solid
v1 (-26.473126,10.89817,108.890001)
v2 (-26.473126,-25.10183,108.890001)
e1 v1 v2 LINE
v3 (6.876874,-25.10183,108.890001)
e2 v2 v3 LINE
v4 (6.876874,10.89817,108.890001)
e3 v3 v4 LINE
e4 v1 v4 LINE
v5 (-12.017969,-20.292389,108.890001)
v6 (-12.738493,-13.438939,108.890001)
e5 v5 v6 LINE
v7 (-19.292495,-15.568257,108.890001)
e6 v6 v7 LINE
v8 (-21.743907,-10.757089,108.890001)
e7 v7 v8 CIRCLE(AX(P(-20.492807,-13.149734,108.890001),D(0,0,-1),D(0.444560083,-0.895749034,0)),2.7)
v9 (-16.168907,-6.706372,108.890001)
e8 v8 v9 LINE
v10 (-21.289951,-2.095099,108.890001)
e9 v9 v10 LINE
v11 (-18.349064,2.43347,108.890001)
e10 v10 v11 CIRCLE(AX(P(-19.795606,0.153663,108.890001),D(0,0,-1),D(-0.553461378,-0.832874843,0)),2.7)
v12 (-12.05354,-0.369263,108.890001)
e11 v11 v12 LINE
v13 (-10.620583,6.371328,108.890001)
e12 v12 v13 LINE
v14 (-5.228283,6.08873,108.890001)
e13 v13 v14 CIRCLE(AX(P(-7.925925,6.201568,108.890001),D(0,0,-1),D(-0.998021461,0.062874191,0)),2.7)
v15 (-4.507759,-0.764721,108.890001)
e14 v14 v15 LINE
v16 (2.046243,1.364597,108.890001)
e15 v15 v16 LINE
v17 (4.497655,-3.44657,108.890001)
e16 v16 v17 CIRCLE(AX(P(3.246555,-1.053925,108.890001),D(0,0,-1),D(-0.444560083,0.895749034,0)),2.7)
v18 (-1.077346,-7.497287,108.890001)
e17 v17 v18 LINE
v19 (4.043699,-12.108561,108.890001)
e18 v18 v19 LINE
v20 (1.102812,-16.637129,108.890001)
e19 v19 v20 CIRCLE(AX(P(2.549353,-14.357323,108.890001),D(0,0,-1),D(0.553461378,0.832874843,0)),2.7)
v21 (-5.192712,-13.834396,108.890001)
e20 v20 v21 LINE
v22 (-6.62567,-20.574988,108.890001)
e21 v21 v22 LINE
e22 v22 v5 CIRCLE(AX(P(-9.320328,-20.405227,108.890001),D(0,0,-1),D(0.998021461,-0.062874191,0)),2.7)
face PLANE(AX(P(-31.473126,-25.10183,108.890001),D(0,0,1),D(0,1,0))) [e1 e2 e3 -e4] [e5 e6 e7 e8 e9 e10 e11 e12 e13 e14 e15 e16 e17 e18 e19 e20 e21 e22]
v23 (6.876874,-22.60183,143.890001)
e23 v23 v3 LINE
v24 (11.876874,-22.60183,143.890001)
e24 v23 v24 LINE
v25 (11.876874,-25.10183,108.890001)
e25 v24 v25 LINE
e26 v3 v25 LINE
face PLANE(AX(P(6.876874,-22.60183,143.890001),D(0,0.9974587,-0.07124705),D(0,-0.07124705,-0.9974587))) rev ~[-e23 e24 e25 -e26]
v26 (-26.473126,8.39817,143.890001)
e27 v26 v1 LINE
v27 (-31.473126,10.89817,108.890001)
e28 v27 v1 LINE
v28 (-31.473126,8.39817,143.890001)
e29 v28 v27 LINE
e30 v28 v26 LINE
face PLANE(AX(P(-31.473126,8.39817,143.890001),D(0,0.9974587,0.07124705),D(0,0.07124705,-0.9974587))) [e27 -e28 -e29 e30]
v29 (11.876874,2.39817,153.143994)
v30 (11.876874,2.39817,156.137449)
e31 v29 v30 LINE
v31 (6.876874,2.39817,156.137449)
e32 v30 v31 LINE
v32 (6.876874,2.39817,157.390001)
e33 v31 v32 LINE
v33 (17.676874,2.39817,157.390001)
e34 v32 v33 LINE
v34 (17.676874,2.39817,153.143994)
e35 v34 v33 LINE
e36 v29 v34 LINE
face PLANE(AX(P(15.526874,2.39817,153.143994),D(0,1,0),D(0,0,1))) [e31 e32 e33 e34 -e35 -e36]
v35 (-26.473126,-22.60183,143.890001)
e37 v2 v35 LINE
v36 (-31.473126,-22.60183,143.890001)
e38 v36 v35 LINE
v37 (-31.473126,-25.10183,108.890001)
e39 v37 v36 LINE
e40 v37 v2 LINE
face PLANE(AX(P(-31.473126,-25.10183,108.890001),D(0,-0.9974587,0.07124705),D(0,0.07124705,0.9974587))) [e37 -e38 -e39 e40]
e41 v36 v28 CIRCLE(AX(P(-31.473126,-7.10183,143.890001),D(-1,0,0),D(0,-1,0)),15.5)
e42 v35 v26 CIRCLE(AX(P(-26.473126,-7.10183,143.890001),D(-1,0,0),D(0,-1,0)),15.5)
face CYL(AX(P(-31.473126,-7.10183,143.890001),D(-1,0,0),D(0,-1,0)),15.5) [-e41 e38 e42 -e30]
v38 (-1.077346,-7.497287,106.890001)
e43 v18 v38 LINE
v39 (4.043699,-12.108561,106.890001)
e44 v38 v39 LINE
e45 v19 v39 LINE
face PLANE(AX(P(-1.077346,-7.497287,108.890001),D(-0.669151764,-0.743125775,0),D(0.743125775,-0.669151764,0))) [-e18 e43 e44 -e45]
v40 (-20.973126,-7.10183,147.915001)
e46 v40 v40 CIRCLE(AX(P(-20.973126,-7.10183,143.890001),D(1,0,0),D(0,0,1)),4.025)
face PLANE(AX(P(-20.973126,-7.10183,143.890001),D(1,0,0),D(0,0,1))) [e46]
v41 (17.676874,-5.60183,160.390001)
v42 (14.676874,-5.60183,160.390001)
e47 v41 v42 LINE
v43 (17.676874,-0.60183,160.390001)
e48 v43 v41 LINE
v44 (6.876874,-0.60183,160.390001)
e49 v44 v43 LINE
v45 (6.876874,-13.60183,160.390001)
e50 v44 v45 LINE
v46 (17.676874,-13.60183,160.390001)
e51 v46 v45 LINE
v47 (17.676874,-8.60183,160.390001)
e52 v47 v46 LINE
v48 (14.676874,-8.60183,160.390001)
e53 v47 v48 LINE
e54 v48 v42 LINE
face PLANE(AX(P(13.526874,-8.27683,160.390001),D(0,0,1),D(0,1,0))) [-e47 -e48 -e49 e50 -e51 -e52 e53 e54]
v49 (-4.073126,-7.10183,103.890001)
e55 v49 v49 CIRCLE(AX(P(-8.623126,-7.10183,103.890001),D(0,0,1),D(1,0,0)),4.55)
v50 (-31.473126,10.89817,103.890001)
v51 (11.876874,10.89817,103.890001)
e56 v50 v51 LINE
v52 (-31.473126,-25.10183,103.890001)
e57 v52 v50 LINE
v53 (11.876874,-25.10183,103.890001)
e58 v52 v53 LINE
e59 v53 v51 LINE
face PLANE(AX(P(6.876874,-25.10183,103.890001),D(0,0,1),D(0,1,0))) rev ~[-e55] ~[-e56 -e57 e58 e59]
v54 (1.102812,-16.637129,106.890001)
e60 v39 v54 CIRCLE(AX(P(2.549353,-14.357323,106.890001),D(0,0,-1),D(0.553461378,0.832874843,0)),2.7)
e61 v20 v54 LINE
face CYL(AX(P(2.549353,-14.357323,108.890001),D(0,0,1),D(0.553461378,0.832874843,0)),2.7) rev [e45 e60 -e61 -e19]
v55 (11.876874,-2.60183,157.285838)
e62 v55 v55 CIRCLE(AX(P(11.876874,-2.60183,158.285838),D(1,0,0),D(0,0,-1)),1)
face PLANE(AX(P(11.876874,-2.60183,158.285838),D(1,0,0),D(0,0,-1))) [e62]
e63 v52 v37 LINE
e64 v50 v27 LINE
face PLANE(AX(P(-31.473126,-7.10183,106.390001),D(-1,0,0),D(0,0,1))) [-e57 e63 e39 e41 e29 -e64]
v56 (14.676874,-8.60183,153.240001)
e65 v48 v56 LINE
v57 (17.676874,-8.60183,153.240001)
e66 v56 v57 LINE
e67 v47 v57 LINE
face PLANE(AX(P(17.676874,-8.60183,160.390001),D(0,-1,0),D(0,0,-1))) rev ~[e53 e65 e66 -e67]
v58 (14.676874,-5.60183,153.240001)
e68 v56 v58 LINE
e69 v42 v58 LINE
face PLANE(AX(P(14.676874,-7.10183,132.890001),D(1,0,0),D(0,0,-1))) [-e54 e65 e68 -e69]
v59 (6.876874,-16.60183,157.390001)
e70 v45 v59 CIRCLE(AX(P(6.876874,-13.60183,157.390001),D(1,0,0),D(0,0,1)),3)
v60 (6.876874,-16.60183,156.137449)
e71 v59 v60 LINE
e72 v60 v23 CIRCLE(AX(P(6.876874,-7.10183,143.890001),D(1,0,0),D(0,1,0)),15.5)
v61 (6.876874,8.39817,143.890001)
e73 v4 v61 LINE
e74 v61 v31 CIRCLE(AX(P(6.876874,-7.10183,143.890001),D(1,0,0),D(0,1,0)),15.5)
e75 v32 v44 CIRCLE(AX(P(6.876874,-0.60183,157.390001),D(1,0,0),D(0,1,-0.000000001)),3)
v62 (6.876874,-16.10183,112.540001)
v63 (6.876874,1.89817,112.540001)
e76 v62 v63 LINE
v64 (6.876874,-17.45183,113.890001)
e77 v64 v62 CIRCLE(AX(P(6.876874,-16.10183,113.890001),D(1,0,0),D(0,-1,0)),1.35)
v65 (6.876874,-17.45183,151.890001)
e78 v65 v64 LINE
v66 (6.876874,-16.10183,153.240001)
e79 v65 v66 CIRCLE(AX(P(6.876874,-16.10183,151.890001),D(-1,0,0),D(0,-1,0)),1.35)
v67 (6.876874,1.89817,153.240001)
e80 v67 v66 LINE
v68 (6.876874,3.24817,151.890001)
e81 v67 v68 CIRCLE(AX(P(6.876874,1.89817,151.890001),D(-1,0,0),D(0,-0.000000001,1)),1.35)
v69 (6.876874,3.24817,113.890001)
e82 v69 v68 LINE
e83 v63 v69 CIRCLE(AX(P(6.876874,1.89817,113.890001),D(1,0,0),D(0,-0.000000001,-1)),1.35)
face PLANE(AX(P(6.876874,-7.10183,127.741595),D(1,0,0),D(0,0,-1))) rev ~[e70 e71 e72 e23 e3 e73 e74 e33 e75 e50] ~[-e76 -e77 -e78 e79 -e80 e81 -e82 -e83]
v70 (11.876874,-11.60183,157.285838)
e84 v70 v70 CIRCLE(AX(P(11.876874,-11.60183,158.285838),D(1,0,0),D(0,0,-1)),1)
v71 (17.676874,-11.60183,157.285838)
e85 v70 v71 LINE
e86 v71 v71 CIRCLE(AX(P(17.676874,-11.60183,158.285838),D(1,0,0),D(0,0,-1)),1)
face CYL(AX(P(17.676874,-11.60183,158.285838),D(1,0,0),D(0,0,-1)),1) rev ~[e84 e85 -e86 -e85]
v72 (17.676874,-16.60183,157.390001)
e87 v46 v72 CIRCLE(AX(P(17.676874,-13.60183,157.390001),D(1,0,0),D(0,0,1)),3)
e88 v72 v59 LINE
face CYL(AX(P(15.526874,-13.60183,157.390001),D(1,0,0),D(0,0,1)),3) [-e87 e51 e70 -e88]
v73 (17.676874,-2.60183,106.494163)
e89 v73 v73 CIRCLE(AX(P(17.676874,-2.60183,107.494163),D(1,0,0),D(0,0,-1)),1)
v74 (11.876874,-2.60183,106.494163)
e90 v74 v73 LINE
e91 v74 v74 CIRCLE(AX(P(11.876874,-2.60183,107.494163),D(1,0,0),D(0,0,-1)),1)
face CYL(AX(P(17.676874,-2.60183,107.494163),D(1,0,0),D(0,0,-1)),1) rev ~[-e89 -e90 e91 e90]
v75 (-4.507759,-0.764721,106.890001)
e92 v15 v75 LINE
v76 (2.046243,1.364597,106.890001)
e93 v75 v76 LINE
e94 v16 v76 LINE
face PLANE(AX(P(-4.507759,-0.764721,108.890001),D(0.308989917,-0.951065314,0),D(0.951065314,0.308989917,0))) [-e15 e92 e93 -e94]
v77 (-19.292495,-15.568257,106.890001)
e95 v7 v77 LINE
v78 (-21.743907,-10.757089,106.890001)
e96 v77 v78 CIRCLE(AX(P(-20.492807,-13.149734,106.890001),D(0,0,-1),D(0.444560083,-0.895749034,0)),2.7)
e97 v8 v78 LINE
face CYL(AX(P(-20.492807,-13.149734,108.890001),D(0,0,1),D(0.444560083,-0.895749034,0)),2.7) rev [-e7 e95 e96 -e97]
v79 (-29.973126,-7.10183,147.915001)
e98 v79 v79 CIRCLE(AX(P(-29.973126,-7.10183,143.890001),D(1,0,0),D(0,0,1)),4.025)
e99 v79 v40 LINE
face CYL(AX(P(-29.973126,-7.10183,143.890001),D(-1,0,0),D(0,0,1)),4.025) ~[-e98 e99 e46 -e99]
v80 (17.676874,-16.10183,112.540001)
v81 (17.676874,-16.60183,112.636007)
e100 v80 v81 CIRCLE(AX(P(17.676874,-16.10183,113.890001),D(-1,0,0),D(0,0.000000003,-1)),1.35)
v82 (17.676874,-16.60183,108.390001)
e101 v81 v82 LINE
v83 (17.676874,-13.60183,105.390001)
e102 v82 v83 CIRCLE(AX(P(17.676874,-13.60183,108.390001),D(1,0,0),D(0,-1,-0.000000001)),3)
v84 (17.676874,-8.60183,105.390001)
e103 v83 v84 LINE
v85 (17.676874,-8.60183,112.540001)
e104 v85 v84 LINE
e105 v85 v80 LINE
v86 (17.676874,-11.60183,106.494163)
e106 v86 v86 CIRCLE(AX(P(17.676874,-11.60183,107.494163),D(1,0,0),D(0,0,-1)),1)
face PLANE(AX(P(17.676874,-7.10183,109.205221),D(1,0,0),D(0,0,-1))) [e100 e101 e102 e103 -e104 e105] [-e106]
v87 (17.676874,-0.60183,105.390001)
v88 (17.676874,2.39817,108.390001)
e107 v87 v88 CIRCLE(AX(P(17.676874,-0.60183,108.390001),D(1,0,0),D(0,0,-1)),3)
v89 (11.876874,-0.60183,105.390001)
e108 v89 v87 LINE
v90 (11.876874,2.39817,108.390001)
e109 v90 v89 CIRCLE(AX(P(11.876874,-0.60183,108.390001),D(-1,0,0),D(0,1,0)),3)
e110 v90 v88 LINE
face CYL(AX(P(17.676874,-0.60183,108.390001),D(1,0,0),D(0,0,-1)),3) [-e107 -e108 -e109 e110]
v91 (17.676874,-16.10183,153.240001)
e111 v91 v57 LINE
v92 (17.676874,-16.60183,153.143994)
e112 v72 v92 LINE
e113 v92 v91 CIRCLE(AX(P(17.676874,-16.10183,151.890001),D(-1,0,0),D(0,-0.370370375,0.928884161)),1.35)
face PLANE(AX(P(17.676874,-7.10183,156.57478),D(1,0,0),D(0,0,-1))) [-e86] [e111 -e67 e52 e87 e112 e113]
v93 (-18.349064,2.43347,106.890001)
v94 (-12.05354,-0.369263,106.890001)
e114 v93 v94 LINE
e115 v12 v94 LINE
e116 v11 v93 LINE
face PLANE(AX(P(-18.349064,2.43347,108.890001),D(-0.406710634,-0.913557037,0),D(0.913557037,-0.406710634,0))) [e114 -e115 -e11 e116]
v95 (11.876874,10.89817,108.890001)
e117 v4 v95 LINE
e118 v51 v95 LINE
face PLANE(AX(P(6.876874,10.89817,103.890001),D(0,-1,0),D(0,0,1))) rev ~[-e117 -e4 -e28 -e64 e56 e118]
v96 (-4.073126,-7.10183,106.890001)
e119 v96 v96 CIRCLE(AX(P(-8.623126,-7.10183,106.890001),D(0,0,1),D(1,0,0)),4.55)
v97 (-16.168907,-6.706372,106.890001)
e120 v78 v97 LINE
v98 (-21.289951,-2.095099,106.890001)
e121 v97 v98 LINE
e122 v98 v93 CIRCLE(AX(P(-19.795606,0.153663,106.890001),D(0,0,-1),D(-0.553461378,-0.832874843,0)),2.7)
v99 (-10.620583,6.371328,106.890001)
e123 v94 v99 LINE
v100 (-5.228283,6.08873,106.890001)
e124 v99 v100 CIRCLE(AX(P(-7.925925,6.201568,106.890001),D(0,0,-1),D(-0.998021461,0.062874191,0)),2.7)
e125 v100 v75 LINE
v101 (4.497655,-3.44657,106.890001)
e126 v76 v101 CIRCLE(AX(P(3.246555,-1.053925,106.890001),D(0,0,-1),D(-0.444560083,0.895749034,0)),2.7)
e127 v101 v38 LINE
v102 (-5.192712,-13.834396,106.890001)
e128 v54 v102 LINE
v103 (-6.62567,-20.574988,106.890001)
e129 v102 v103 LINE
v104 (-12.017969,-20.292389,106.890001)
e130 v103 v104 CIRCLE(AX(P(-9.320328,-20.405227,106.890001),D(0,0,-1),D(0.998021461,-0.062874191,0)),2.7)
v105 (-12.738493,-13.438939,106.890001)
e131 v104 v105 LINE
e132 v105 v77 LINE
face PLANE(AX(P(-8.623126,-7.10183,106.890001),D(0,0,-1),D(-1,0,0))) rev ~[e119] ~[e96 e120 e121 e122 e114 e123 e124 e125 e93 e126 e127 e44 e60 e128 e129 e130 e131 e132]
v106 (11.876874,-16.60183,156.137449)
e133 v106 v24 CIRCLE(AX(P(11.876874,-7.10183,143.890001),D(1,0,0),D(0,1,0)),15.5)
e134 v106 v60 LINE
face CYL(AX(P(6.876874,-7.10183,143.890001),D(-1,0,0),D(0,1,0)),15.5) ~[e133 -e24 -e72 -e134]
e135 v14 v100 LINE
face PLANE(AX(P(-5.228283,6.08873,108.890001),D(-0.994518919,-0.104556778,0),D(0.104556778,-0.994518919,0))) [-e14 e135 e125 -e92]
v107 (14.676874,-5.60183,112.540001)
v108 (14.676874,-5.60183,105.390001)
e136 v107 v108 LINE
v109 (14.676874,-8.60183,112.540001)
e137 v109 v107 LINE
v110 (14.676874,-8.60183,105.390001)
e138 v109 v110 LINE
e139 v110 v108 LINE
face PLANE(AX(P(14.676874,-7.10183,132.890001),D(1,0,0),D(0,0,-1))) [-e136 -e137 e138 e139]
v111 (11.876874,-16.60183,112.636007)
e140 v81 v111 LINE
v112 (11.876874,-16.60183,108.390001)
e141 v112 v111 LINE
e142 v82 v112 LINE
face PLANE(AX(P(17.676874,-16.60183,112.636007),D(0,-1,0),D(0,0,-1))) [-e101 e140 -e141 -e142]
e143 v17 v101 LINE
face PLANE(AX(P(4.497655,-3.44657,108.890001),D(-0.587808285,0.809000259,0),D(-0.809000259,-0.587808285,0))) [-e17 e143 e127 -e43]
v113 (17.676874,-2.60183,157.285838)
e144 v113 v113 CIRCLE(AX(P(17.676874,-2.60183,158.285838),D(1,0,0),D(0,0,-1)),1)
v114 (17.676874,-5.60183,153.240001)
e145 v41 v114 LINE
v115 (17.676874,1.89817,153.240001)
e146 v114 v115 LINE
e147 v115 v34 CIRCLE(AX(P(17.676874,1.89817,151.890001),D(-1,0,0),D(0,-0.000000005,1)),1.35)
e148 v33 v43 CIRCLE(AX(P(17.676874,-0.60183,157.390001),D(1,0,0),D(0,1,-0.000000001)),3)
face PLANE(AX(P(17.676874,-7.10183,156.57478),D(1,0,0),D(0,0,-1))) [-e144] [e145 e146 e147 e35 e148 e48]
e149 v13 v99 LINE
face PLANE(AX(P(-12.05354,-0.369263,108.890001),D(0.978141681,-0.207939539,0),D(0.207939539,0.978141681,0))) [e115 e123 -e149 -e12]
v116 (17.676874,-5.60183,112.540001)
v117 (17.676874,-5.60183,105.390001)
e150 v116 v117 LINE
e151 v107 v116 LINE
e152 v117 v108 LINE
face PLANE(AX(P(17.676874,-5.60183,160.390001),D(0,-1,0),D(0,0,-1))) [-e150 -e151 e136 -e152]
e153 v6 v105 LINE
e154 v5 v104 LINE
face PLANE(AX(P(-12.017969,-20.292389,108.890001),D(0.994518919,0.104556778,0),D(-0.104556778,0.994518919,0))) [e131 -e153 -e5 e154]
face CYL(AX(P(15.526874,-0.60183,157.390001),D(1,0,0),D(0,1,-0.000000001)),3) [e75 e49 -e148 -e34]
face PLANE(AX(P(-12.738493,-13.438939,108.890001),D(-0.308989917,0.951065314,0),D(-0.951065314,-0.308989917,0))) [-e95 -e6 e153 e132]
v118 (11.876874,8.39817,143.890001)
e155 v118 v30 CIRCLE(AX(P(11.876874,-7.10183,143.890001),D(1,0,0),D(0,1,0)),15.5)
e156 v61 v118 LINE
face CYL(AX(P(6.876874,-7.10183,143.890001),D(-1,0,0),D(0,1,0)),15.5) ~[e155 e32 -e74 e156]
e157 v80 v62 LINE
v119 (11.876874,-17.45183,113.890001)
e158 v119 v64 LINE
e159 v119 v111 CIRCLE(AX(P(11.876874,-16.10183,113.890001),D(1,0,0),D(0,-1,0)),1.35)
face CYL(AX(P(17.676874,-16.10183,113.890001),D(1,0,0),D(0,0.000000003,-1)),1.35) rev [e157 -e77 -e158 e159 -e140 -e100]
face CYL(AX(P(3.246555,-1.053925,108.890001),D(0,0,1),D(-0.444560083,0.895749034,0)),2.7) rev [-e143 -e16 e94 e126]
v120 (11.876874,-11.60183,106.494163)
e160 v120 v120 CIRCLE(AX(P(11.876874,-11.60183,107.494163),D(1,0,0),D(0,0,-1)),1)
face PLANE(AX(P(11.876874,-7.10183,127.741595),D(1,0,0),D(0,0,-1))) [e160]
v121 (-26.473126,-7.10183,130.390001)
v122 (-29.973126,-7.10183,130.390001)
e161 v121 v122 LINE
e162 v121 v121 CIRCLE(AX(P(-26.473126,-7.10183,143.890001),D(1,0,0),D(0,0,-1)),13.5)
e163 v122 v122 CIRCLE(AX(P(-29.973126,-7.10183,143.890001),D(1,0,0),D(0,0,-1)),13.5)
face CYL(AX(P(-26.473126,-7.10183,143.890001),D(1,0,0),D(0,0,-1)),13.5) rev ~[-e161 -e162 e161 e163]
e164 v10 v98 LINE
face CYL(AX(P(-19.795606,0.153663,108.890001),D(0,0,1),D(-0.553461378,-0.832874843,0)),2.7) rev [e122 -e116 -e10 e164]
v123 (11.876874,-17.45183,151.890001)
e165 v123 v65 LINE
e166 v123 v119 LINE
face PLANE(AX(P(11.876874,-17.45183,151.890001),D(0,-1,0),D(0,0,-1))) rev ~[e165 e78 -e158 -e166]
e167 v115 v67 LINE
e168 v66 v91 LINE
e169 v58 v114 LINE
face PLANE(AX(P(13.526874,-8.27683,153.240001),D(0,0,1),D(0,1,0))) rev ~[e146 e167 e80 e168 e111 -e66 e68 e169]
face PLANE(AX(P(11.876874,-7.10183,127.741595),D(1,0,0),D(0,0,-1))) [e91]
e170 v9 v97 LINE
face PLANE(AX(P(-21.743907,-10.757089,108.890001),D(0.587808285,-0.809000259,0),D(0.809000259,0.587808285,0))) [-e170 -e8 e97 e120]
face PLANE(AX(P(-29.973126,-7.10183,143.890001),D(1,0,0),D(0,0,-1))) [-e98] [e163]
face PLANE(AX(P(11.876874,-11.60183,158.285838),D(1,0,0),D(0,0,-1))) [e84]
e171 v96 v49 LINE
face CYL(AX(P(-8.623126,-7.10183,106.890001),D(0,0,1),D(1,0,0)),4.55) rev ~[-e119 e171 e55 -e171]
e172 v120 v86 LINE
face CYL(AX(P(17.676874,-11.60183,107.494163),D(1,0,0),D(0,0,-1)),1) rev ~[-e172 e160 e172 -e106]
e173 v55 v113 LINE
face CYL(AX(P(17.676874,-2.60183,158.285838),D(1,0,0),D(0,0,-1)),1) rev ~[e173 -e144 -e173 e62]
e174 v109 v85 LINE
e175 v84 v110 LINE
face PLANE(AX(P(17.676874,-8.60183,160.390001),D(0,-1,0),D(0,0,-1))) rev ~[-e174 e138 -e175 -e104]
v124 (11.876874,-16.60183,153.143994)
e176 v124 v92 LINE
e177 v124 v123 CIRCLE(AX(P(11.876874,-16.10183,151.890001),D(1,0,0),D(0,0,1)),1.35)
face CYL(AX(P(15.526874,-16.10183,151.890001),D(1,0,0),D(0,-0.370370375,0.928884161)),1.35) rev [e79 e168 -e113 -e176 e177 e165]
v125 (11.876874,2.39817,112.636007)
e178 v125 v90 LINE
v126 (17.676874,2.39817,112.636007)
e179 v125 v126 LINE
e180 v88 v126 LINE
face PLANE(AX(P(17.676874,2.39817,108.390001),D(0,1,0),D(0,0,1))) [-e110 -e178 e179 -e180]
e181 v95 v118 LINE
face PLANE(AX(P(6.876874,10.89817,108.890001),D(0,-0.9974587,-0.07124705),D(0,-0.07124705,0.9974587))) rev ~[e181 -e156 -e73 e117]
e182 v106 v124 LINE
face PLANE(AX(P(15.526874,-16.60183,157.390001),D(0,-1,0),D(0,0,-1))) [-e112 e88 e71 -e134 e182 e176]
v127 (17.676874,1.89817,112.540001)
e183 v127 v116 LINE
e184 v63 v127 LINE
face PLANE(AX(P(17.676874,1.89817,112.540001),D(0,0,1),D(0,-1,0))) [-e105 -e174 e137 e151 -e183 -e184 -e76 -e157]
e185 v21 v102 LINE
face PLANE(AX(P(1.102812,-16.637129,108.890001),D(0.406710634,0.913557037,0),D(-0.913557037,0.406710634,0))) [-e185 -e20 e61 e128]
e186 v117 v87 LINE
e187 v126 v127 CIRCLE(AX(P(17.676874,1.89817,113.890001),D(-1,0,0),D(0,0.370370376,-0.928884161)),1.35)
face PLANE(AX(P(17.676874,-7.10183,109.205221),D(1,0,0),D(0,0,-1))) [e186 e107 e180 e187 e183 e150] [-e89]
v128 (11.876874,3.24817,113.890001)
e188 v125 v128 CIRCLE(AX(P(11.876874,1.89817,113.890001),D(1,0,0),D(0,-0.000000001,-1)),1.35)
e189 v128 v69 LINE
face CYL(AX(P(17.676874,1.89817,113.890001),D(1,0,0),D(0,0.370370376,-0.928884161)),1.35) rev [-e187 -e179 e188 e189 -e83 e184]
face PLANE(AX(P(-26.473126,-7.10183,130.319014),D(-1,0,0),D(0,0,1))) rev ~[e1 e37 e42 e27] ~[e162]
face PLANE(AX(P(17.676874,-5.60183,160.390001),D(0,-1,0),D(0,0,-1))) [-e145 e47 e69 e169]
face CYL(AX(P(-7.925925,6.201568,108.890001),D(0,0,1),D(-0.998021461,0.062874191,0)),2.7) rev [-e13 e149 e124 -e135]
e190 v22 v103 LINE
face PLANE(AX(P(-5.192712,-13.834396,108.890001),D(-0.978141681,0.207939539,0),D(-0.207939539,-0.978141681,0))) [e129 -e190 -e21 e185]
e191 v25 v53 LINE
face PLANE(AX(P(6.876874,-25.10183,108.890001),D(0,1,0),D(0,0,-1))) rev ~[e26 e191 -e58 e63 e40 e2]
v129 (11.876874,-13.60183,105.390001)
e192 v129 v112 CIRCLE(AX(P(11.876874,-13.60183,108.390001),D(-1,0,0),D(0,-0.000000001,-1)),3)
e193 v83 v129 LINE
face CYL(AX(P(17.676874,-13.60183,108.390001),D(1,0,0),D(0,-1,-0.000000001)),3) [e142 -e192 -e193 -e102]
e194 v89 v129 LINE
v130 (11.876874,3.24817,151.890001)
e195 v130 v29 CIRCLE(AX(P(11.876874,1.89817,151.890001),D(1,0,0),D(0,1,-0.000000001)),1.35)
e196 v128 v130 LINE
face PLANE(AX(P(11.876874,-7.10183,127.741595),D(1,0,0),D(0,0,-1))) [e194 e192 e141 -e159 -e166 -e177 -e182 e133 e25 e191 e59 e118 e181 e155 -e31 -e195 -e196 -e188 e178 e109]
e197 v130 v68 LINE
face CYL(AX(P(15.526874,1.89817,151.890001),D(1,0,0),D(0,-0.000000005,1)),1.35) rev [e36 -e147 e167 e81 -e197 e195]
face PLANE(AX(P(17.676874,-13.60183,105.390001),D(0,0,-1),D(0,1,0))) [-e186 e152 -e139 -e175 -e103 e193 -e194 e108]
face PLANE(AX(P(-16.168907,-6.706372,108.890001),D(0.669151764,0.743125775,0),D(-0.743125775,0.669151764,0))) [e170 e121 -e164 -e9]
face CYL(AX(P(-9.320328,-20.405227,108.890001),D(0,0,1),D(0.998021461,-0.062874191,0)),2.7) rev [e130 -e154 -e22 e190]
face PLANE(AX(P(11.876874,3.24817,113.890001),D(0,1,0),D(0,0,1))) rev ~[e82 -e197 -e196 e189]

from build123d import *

# Parameters (mm, degrees)
SALIENTE_EXTRUIR1_START = 2.5
SALIENTE_EXTRUIR1_DEPTH = 5
CROQUIS2_R              = 13.5
CORTAR_EXTRUIR1_DEPTH   = 3.5
CROQUIS4_R              = 4.025
SALIENTE_EXTRUIR3_DEPTH = 9
CROQUIS5_W              = 5
CROQUIS5_H              = 36
SALIENTE_EXTRUIR4_DEPTH = 38.35
CORTAR_EXTRUIR2_DEPTH   = 2
CROQUIS8_R              = 4.55
CORTAR_EXTRUIR3_DEPTH   = 67.15821583
SALIENTE_EXTRUIR5_DEPTH = 5
CORTAR_EXTRUIR4_DEPTH   = 5
SALIENTE_EXTRUIR6_START = 3.65
CROQUIS12_R             = 1
SALIENTE_EXTRUIR6_DEPTH = 3.65
SALIENTE_EXTRUIR7_START = -8.65
SALIENTE_EXTRUIR7_DEPTH = 8.65
CROQUIS14_R             = 1
CORTAR_EXTRUIR5_DEPTH   = 3.65
CROQUIS15_W             = 7.15
CROQUIS15_H             = 2.35
CORTAR_EXTRUIR6_DEPTH   = 2
CROQUIS16_W             = 7.15
CROQUIS16_H             = 2.35
SALIENTE_EXTRUIR8_DEPTH = 2
SALIENTE_EXTRUIR9_START = 2.15
CROQUIS17_R             = 1
SALIENTE_EXTRUIR9_DEPTH = 2.15
CROQUIS18_W             = 55
CROQUIS18_H             = 3
CORTAR_EXTRUIR7_DEPTH   = 3


with BuildPart() as part:
    # Croquis1 → Saliente-Extruir1 (new body)
    with BuildSketch(Plane.ZY.offset(28.973126084).offset(SALIENTE_EXTRUIR1_START)):
        with BuildLine():
            Line((108.890000566, 10.898170258), (108.890000566, -25.101829742))
            Line((108.890000566, -25.101829742), (143.890000566, -22.601829742))
            ThreePointArc((143.890000566, -22.601829742), (159.390000566, -7.101829742), (143.890000566, 8.398170258))
            Line((143.890000566, 8.398170258), (108.890000566, 10.898170258))
        make_face()
    extrude(amount=-SALIENTE_EXTRUIR1_DEPTH)

    # Croquis2 → Cortar-Extruir1 (cut)
    with BuildSketch(Plane(origin=(-26.473126084, 0, 0), x_dir=(0, 0, -1), z_dir=(1, 0, 0))):
        with Locations((-143.890000566, -7.101829742)):
            Circle(CROQUIS2_R)
    extrude(amount=-CORTAR_EXTRUIR1_DEPTH, mode=Mode.SUBTRACT)

    # Croquis4 → Saliente-Extruir3 (add)
    with BuildSketch(Plane(origin=(-29.973126084, 0, 0), x_dir=(0, 0, -1), z_dir=(1, 0, 0))):
        with Locations(Location((-143.890000566, -7.101829742, 0), (0, 0, 180))):
            Circle(CROQUIS4_R)
    extrude(amount=SALIENTE_EXTRUIR3_DEPTH)

    # Croquis5 → Saliente-Extruir4 (add)
    with BuildSketch(Plane.ZY.offset(31.473126084)):
        with Locations((106.390000566, -7.101829742)):
            Rectangle(CROQUIS5_W, CROQUIS5_H)
    extrude(amount=-SALIENTE_EXTRUIR4_DEPTH)

    # Croquis6 → Cortar-Extruir2 (cut)
    with BuildSketch(Plane.XY.offset(108.890000566)):
        with BuildLine():
            Line((-21.743906953, -10.757089493), (-16.168906615, -6.706372141))
            Line((-16.168906615, -6.706372141), (-21.289951258, -2.095098824))
            ThreePointArc((-21.289951258, -2.095098824), (-22.060016072, 1.624188646), (-18.349064321, 2.433469933))
            Line((-18.349064321, 2.433469933), (-12.053540021, -0.36926331))
            Line((-12.053540021, -0.36926331), (-10.620582506, 6.371328103))
            ThreePointArc((-10.620582506, 6.371328103), (-7.784617481, 8.89786753), (-5.228283452, 6.088729685))
            Line((-5.228283452, 6.088729685), (-4.50775949, -0.764720911))
            Line((-4.50775949, -0.764720911), (2.046242668, 1.364597186))
            ThreePointArc((2.046242668, 1.364597186), (5.652272507, 0.171849142), (4.497654785, -3.44656999))
            Line((4.497654785, -3.44656999), (-1.077345553, -7.497287342))
            Line((-1.077345553, -7.497287342), (4.04369909, -12.108560659))
            ThreePointArc((4.04369909, -12.108560659), (4.813763904, -15.827848129), (1.102812153, -16.637129416))
            Line((1.102812153, -16.637129416), (-5.192712147, -13.834396173))
            Line((-5.192712147, -13.834396173), (-6.625669661, -20.574987586))
            ThreePointArc((-6.625669661, -20.574987586), (-9.461634687, -23.101527013), (-12.017968716, -20.292389168))
            Line((-12.017968716, -20.292389168), (-12.738492677, -13.438938572))
            Line((-12.738492677, -13.438938572), (-19.292494835, -15.568256669))
            ThreePointArc((-19.292494835, -15.568256669), (-22.898524675, -14.375508625), (-21.743906953, -10.757089493))
        make_face()
    extrude(amount=-CORTAR_EXTRUIR2_DEPTH, mode=Mode.SUBTRACT)

    # Croquis8 → Cortar-Extruir3 (cut, through all)
    with BuildSketch(Plane.XY.offset(106.890000566)):
        with Locations((-8.623126084, -7.101829742)):
            Circle(CROQUIS8_R)
    extrude(amount=-CORTAR_EXTRUIR3_DEPTH, mode=Mode.SUBTRACT)

    # Croquis9 → Saliente-Extruir5 (add)
    with BuildSketch(Plane(origin=(6.876873916, 0, 0), x_dir=(0, 0, -1), z_dir=(1, 0, 0))):
        with BuildLine():
            Line((-143.890000566, -22.601829742), (-108.890000566, -25.101829742))
            Line((-108.890000566, -25.101829742), (-103.890000566, -25.101829742))
            Line((-103.890000566, -25.101829742), (-103.890000566, 10.898170258))
            Line((-103.890000566, 10.898170258), (-108.890000566, 10.898170258))
            Line((-108.890000566, 10.898170258), (-143.890000566, 8.398170258))
            ThreePointArc((-143.890000566, 8.398170258), (-159.390000566, -7.101829742), (-143.890000566, -22.601829742))
        make_face()
    extrude(amount=SALIENTE_EXTRUIR5_DEPTH)

    # Croquis11 → Cortar-Extruir4 (cut)
    with BuildSketch(Plane(origin=(11.876873916, 0, 0), x_dir=(0, 0, -1), z_dir=(1, 0, 0))):
        with BuildLine():
            Line((-153.240000566, 1.898170258), (-153.240000566, -16.101829742))
            ThreePointArc((-153.240000566, -16.101829742), (-152.844594721, -17.056423896), (-151.890000566, -17.451829742))
            Line((-151.890000566, -17.451829742), (-113.890000566, -17.451829742))
            ThreePointArc((-113.890000566, -17.451829742), (-112.935406411, -17.056423896), (-112.540000566, -16.101829742))
            Line((-112.540000566, -16.101829742), (-112.540000566, 1.898170258))
            ThreePointArc((-112.540000566, 1.898170258), (-112.935406411, 2.852764413), (-113.890000566, 3.248170258))
            Line((-113.890000566, 3.248170258), (-151.890000566, 3.248170258))
            ThreePointArc((-151.890000566, 3.248170258), (-152.844594721, 2.852764413), (-153.240000566, 1.898170258))
        make_face()
    extrude(amount=-CORTAR_EXTRUIR4_DEPTH, mode=Mode.SUBTRACT)

    # Croquis12 → Saliente-Extruir6 (add)
    with BuildSketch(Plane(origin=(11.876873916, 0, 0), x_dir=(0, 0, -1), z_dir=(1, 0, 0)).offset(SALIENTE_EXTRUIR6_START)):
        with BuildLine():
            Line((-105.390000566, -1.251829742), (-105.390000566, -3.951829742))
            Line((-105.390000566, -3.951829742), (-105.390000566, -10.251829742))
            Line((-105.390000566, -10.251829742), (-105.390000566, -12.951829742))
            Line((-105.390000566, -12.951829742), (-105.390000566, -13.601829742))
            ThreePointArc((-105.390000566, -13.601829742), (-106.268680223, -15.723150085), (-108.390000566, -16.601829742))
            Line((-108.390000566, -16.601829742), (-112.636006946, -16.601829742))
            ThreePointArc((-112.636006946, -16.601829742), (-112.564219402, -16.356396641), (-112.540000566, -16.101829742))
            Line((-112.540000566, -16.101829742), (-112.540000566, 1.898170258))
            ThreePointArc((-112.540000566, 1.898170258), (-112.564219402, 2.152737158), (-112.636006946, 2.398170258))
            Line((-112.636006946, 2.398170258), (-108.390000566, 2.398170258))
            ThreePointArc((-108.390000566, 2.398170258), (-106.268680223, 1.519490602), (-105.390000566, -0.601829742))
            Line((-105.390000566, -0.601829742), (-105.390000566, -1.251829742))
        make_face()
        with Locations((-107.494163107, -2.601829742)):
            Circle(CROQUIS12_R, mode=Mode.SUBTRACT)
        with Locations((-107.494163107, -11.601829742)):
            Circle(CROQUIS12_R, mode=Mode.SUBTRACT)
    extrude(amount=-SALIENTE_EXTRUIR6_DEPTH)

    # Croquis13 → Saliente-Extruir7 (add)
    with BuildSketch(Plane.ZY.offset(-6.876873916).offset(SALIENTE_EXTRUIR7_START)):
        with BuildLine():
            Line((153.240000566, -16.101829742), (153.240000566, 1.898170258))
            ThreePointArc((153.240000566, 1.898170258), (153.21578173, 2.152737158), (153.143994186, 2.398170258))
            Line((153.143994186, 2.398170258), (157.390000566, 2.398170258))
            ThreePointArc((157.390000566, 2.398170258), (159.51132091, 1.519490602), (160.390000566, -0.601829742))
            Line((160.390000566, -0.601829742), (160.390000566, -1.251829742))
            Line((160.390000566, -1.251829742), (160.390000566, -3.951829742))
            Line((160.390000566, -3.951829742), (160.390000566, -10.251829742))
            Line((160.390000566, -10.251829742), (160.390000566, -12.951829742))
            Line((160.390000566, -12.951829742), (160.390000566, -13.601829742))
            ThreePointArc((160.390000566, -13.601829742), (159.51132091, -15.723150085), (157.390000566, -16.601829742))
            Line((157.390000566, -16.601829742), (153.143994186, -16.601829742))
            ThreePointArc((153.143994186, -16.601829742), (153.21578173, -16.356396641), (153.240000566, -16.101829742))
        make_face()
    extrude(amount=SALIENTE_EXTRUIR7_DEPTH)

    # Croquis14 → Cortar-Extruir5 (cut)
    with BuildSketch(Plane(origin=(15.526873916, 0, 0), x_dir=(0, 0, -1), z_dir=(1, 0, 0))):
        with Locations((-158.285838025, -2.601829742)):
            Circle(CROQUIS14_R)
        with Locations((-158.285838025, -11.601829742)):
            Circle(CROQUIS14_R)
    extrude(amount=-CORTAR_EXTRUIR5_DEPTH, mode=Mode.SUBTRACT)

    # Croquis15 → Cortar-Extruir6 (cut)
    with BuildSketch(Plane(origin=(15.526873916, 0, 0), x_dir=(0, 0, -1), z_dir=(1, 0, 0))):
        with Locations((-108.965000566, -7.101829742)):
            Rectangle(CROQUIS15_W, CROQUIS15_H)
        with Locations((-156.815000566, -7.101829742)):
            Rectangle(CROQUIS15_W, CROQUIS15_H)
    extrude(amount=-CORTAR_EXTRUIR6_DEPTH, mode=Mode.SUBTRACT)

    # Croquis16 → Saliente-Extruir8 (add)
    with BuildSketch(Plane(origin=(13.526873916, 0, 0), x_dir=(0, 0, -1), z_dir=(1, 0, 0))):
        with Locations((-156.815000566, -7.101829742)):
            Rectangle(CROQUIS16_W, CROQUIS16_H)
        with Locations((-108.965000566, -7.101829742)):
            Rectangle(CROQUIS16_W, CROQUIS16_H)
    extrude(amount=SALIENTE_EXTRUIR8_DEPTH)

    # Croquis17 → Saliente-Extruir9 (add)
    # profile 1 of 2: a face of its own
    with BuildSketch(Plane(origin=(15.526873916, 0, 0), x_dir=(0, 0, -1), z_dir=(1, 0, 0)).offset(SALIENTE_EXTRUIR9_START)):
        with BuildLine():
            Line((-105.390000566, -13.601829742), (-105.390000566, -0.601829742))
            ThreePointArc((-105.390000566, -0.601829742), (-106.268680223, 1.519490602), (-108.390000566, 2.398170258))
            Line((-108.390000566, 2.398170258), (-112.636006946, 2.398170258))
            ThreePointArc((-112.636006946, 2.398170258), (-112.564219402, 2.152737158), (-112.540000566, 1.898170258))
            Line((-112.540000566, 1.898170258), (-112.540000566, -16.101829742))
            ThreePointArc((-112.540000566, -16.101829742), (-112.564219402, -16.356396641), (-112.636006946, -16.601829742))
            Line((-112.636006946, -16.601829742), (-108.390000566, -16.601829742))
            ThreePointArc((-108.390000566, -16.601829742), (-106.268680223, -15.723150085), (-105.390000566, -13.601829742))
        make_face()
        with Locations((-107.494163107, -11.601829742)):
            Circle(CROQUIS17_R, mode=Mode.SUBTRACT)
        with Locations((-107.494163107, -2.601829742)):
            Circle(CROQUIS17_R, mode=Mode.SUBTRACT)
    # profile 2 of 2: a face of its own
    with BuildSketch(Plane(origin=(15.526873916, 0, 0), x_dir=(0, 0, -1), z_dir=(1, 0, 0)).offset(SALIENTE_EXTRUIR9_START)):
        with BuildLine():
            Line((-160.390000566, -0.601829742), (-160.390000566, -13.601829742))
            ThreePointArc((-160.390000566, -13.601829742), (-159.51132091, -15.723150085), (-157.390000566, -16.601829742))
            Line((-157.390000566, -16.601829742), (-153.143994186, -16.601829742))
            ThreePointArc((-153.143994186, -16.601829742), (-153.21578173, -16.356396641), (-153.240000566, -16.101829742))
            Line((-153.240000566, -16.101829742), (-153.240000566, 1.898170258))
            ThreePointArc((-153.240000566, 1.898170258), (-153.21578173, 2.152737158), (-153.143994186, 2.398170258))
            Line((-153.143994186, 2.398170258), (-157.390000566, 2.398170258))
            ThreePointArc((-157.390000566, 2.398170258), (-159.51132091, 1.519490602), (-160.390000566, -0.601829742))
        make_face()
        with Locations((-158.285838025, -11.601829742)):
            Circle(CROQUIS17_R, mode=Mode.SUBTRACT)
        with Locations((-158.285838025, -2.601829742)):
            Circle(CROQUIS17_R, mode=Mode.SUBTRACT)
    extrude(amount=-SALIENTE_EXTRUIR9_DEPTH)

    # Croquis18 → Cortar-Extruir7 (cut)
    with BuildSketch(Plane(origin=(17.676873916, 0, 0), x_dir=(0, 0, -1), z_dir=(1, 0, 0))):
        with Locations((-132.890000566, -7.101829742)):
            Rectangle(CROQUIS18_W, CROQUIS18_H)
    extrude(amount=-CORTAR_EXTRUIR7_DEPTH, mode=Mode.SUBTRACT)


solid = part.part
